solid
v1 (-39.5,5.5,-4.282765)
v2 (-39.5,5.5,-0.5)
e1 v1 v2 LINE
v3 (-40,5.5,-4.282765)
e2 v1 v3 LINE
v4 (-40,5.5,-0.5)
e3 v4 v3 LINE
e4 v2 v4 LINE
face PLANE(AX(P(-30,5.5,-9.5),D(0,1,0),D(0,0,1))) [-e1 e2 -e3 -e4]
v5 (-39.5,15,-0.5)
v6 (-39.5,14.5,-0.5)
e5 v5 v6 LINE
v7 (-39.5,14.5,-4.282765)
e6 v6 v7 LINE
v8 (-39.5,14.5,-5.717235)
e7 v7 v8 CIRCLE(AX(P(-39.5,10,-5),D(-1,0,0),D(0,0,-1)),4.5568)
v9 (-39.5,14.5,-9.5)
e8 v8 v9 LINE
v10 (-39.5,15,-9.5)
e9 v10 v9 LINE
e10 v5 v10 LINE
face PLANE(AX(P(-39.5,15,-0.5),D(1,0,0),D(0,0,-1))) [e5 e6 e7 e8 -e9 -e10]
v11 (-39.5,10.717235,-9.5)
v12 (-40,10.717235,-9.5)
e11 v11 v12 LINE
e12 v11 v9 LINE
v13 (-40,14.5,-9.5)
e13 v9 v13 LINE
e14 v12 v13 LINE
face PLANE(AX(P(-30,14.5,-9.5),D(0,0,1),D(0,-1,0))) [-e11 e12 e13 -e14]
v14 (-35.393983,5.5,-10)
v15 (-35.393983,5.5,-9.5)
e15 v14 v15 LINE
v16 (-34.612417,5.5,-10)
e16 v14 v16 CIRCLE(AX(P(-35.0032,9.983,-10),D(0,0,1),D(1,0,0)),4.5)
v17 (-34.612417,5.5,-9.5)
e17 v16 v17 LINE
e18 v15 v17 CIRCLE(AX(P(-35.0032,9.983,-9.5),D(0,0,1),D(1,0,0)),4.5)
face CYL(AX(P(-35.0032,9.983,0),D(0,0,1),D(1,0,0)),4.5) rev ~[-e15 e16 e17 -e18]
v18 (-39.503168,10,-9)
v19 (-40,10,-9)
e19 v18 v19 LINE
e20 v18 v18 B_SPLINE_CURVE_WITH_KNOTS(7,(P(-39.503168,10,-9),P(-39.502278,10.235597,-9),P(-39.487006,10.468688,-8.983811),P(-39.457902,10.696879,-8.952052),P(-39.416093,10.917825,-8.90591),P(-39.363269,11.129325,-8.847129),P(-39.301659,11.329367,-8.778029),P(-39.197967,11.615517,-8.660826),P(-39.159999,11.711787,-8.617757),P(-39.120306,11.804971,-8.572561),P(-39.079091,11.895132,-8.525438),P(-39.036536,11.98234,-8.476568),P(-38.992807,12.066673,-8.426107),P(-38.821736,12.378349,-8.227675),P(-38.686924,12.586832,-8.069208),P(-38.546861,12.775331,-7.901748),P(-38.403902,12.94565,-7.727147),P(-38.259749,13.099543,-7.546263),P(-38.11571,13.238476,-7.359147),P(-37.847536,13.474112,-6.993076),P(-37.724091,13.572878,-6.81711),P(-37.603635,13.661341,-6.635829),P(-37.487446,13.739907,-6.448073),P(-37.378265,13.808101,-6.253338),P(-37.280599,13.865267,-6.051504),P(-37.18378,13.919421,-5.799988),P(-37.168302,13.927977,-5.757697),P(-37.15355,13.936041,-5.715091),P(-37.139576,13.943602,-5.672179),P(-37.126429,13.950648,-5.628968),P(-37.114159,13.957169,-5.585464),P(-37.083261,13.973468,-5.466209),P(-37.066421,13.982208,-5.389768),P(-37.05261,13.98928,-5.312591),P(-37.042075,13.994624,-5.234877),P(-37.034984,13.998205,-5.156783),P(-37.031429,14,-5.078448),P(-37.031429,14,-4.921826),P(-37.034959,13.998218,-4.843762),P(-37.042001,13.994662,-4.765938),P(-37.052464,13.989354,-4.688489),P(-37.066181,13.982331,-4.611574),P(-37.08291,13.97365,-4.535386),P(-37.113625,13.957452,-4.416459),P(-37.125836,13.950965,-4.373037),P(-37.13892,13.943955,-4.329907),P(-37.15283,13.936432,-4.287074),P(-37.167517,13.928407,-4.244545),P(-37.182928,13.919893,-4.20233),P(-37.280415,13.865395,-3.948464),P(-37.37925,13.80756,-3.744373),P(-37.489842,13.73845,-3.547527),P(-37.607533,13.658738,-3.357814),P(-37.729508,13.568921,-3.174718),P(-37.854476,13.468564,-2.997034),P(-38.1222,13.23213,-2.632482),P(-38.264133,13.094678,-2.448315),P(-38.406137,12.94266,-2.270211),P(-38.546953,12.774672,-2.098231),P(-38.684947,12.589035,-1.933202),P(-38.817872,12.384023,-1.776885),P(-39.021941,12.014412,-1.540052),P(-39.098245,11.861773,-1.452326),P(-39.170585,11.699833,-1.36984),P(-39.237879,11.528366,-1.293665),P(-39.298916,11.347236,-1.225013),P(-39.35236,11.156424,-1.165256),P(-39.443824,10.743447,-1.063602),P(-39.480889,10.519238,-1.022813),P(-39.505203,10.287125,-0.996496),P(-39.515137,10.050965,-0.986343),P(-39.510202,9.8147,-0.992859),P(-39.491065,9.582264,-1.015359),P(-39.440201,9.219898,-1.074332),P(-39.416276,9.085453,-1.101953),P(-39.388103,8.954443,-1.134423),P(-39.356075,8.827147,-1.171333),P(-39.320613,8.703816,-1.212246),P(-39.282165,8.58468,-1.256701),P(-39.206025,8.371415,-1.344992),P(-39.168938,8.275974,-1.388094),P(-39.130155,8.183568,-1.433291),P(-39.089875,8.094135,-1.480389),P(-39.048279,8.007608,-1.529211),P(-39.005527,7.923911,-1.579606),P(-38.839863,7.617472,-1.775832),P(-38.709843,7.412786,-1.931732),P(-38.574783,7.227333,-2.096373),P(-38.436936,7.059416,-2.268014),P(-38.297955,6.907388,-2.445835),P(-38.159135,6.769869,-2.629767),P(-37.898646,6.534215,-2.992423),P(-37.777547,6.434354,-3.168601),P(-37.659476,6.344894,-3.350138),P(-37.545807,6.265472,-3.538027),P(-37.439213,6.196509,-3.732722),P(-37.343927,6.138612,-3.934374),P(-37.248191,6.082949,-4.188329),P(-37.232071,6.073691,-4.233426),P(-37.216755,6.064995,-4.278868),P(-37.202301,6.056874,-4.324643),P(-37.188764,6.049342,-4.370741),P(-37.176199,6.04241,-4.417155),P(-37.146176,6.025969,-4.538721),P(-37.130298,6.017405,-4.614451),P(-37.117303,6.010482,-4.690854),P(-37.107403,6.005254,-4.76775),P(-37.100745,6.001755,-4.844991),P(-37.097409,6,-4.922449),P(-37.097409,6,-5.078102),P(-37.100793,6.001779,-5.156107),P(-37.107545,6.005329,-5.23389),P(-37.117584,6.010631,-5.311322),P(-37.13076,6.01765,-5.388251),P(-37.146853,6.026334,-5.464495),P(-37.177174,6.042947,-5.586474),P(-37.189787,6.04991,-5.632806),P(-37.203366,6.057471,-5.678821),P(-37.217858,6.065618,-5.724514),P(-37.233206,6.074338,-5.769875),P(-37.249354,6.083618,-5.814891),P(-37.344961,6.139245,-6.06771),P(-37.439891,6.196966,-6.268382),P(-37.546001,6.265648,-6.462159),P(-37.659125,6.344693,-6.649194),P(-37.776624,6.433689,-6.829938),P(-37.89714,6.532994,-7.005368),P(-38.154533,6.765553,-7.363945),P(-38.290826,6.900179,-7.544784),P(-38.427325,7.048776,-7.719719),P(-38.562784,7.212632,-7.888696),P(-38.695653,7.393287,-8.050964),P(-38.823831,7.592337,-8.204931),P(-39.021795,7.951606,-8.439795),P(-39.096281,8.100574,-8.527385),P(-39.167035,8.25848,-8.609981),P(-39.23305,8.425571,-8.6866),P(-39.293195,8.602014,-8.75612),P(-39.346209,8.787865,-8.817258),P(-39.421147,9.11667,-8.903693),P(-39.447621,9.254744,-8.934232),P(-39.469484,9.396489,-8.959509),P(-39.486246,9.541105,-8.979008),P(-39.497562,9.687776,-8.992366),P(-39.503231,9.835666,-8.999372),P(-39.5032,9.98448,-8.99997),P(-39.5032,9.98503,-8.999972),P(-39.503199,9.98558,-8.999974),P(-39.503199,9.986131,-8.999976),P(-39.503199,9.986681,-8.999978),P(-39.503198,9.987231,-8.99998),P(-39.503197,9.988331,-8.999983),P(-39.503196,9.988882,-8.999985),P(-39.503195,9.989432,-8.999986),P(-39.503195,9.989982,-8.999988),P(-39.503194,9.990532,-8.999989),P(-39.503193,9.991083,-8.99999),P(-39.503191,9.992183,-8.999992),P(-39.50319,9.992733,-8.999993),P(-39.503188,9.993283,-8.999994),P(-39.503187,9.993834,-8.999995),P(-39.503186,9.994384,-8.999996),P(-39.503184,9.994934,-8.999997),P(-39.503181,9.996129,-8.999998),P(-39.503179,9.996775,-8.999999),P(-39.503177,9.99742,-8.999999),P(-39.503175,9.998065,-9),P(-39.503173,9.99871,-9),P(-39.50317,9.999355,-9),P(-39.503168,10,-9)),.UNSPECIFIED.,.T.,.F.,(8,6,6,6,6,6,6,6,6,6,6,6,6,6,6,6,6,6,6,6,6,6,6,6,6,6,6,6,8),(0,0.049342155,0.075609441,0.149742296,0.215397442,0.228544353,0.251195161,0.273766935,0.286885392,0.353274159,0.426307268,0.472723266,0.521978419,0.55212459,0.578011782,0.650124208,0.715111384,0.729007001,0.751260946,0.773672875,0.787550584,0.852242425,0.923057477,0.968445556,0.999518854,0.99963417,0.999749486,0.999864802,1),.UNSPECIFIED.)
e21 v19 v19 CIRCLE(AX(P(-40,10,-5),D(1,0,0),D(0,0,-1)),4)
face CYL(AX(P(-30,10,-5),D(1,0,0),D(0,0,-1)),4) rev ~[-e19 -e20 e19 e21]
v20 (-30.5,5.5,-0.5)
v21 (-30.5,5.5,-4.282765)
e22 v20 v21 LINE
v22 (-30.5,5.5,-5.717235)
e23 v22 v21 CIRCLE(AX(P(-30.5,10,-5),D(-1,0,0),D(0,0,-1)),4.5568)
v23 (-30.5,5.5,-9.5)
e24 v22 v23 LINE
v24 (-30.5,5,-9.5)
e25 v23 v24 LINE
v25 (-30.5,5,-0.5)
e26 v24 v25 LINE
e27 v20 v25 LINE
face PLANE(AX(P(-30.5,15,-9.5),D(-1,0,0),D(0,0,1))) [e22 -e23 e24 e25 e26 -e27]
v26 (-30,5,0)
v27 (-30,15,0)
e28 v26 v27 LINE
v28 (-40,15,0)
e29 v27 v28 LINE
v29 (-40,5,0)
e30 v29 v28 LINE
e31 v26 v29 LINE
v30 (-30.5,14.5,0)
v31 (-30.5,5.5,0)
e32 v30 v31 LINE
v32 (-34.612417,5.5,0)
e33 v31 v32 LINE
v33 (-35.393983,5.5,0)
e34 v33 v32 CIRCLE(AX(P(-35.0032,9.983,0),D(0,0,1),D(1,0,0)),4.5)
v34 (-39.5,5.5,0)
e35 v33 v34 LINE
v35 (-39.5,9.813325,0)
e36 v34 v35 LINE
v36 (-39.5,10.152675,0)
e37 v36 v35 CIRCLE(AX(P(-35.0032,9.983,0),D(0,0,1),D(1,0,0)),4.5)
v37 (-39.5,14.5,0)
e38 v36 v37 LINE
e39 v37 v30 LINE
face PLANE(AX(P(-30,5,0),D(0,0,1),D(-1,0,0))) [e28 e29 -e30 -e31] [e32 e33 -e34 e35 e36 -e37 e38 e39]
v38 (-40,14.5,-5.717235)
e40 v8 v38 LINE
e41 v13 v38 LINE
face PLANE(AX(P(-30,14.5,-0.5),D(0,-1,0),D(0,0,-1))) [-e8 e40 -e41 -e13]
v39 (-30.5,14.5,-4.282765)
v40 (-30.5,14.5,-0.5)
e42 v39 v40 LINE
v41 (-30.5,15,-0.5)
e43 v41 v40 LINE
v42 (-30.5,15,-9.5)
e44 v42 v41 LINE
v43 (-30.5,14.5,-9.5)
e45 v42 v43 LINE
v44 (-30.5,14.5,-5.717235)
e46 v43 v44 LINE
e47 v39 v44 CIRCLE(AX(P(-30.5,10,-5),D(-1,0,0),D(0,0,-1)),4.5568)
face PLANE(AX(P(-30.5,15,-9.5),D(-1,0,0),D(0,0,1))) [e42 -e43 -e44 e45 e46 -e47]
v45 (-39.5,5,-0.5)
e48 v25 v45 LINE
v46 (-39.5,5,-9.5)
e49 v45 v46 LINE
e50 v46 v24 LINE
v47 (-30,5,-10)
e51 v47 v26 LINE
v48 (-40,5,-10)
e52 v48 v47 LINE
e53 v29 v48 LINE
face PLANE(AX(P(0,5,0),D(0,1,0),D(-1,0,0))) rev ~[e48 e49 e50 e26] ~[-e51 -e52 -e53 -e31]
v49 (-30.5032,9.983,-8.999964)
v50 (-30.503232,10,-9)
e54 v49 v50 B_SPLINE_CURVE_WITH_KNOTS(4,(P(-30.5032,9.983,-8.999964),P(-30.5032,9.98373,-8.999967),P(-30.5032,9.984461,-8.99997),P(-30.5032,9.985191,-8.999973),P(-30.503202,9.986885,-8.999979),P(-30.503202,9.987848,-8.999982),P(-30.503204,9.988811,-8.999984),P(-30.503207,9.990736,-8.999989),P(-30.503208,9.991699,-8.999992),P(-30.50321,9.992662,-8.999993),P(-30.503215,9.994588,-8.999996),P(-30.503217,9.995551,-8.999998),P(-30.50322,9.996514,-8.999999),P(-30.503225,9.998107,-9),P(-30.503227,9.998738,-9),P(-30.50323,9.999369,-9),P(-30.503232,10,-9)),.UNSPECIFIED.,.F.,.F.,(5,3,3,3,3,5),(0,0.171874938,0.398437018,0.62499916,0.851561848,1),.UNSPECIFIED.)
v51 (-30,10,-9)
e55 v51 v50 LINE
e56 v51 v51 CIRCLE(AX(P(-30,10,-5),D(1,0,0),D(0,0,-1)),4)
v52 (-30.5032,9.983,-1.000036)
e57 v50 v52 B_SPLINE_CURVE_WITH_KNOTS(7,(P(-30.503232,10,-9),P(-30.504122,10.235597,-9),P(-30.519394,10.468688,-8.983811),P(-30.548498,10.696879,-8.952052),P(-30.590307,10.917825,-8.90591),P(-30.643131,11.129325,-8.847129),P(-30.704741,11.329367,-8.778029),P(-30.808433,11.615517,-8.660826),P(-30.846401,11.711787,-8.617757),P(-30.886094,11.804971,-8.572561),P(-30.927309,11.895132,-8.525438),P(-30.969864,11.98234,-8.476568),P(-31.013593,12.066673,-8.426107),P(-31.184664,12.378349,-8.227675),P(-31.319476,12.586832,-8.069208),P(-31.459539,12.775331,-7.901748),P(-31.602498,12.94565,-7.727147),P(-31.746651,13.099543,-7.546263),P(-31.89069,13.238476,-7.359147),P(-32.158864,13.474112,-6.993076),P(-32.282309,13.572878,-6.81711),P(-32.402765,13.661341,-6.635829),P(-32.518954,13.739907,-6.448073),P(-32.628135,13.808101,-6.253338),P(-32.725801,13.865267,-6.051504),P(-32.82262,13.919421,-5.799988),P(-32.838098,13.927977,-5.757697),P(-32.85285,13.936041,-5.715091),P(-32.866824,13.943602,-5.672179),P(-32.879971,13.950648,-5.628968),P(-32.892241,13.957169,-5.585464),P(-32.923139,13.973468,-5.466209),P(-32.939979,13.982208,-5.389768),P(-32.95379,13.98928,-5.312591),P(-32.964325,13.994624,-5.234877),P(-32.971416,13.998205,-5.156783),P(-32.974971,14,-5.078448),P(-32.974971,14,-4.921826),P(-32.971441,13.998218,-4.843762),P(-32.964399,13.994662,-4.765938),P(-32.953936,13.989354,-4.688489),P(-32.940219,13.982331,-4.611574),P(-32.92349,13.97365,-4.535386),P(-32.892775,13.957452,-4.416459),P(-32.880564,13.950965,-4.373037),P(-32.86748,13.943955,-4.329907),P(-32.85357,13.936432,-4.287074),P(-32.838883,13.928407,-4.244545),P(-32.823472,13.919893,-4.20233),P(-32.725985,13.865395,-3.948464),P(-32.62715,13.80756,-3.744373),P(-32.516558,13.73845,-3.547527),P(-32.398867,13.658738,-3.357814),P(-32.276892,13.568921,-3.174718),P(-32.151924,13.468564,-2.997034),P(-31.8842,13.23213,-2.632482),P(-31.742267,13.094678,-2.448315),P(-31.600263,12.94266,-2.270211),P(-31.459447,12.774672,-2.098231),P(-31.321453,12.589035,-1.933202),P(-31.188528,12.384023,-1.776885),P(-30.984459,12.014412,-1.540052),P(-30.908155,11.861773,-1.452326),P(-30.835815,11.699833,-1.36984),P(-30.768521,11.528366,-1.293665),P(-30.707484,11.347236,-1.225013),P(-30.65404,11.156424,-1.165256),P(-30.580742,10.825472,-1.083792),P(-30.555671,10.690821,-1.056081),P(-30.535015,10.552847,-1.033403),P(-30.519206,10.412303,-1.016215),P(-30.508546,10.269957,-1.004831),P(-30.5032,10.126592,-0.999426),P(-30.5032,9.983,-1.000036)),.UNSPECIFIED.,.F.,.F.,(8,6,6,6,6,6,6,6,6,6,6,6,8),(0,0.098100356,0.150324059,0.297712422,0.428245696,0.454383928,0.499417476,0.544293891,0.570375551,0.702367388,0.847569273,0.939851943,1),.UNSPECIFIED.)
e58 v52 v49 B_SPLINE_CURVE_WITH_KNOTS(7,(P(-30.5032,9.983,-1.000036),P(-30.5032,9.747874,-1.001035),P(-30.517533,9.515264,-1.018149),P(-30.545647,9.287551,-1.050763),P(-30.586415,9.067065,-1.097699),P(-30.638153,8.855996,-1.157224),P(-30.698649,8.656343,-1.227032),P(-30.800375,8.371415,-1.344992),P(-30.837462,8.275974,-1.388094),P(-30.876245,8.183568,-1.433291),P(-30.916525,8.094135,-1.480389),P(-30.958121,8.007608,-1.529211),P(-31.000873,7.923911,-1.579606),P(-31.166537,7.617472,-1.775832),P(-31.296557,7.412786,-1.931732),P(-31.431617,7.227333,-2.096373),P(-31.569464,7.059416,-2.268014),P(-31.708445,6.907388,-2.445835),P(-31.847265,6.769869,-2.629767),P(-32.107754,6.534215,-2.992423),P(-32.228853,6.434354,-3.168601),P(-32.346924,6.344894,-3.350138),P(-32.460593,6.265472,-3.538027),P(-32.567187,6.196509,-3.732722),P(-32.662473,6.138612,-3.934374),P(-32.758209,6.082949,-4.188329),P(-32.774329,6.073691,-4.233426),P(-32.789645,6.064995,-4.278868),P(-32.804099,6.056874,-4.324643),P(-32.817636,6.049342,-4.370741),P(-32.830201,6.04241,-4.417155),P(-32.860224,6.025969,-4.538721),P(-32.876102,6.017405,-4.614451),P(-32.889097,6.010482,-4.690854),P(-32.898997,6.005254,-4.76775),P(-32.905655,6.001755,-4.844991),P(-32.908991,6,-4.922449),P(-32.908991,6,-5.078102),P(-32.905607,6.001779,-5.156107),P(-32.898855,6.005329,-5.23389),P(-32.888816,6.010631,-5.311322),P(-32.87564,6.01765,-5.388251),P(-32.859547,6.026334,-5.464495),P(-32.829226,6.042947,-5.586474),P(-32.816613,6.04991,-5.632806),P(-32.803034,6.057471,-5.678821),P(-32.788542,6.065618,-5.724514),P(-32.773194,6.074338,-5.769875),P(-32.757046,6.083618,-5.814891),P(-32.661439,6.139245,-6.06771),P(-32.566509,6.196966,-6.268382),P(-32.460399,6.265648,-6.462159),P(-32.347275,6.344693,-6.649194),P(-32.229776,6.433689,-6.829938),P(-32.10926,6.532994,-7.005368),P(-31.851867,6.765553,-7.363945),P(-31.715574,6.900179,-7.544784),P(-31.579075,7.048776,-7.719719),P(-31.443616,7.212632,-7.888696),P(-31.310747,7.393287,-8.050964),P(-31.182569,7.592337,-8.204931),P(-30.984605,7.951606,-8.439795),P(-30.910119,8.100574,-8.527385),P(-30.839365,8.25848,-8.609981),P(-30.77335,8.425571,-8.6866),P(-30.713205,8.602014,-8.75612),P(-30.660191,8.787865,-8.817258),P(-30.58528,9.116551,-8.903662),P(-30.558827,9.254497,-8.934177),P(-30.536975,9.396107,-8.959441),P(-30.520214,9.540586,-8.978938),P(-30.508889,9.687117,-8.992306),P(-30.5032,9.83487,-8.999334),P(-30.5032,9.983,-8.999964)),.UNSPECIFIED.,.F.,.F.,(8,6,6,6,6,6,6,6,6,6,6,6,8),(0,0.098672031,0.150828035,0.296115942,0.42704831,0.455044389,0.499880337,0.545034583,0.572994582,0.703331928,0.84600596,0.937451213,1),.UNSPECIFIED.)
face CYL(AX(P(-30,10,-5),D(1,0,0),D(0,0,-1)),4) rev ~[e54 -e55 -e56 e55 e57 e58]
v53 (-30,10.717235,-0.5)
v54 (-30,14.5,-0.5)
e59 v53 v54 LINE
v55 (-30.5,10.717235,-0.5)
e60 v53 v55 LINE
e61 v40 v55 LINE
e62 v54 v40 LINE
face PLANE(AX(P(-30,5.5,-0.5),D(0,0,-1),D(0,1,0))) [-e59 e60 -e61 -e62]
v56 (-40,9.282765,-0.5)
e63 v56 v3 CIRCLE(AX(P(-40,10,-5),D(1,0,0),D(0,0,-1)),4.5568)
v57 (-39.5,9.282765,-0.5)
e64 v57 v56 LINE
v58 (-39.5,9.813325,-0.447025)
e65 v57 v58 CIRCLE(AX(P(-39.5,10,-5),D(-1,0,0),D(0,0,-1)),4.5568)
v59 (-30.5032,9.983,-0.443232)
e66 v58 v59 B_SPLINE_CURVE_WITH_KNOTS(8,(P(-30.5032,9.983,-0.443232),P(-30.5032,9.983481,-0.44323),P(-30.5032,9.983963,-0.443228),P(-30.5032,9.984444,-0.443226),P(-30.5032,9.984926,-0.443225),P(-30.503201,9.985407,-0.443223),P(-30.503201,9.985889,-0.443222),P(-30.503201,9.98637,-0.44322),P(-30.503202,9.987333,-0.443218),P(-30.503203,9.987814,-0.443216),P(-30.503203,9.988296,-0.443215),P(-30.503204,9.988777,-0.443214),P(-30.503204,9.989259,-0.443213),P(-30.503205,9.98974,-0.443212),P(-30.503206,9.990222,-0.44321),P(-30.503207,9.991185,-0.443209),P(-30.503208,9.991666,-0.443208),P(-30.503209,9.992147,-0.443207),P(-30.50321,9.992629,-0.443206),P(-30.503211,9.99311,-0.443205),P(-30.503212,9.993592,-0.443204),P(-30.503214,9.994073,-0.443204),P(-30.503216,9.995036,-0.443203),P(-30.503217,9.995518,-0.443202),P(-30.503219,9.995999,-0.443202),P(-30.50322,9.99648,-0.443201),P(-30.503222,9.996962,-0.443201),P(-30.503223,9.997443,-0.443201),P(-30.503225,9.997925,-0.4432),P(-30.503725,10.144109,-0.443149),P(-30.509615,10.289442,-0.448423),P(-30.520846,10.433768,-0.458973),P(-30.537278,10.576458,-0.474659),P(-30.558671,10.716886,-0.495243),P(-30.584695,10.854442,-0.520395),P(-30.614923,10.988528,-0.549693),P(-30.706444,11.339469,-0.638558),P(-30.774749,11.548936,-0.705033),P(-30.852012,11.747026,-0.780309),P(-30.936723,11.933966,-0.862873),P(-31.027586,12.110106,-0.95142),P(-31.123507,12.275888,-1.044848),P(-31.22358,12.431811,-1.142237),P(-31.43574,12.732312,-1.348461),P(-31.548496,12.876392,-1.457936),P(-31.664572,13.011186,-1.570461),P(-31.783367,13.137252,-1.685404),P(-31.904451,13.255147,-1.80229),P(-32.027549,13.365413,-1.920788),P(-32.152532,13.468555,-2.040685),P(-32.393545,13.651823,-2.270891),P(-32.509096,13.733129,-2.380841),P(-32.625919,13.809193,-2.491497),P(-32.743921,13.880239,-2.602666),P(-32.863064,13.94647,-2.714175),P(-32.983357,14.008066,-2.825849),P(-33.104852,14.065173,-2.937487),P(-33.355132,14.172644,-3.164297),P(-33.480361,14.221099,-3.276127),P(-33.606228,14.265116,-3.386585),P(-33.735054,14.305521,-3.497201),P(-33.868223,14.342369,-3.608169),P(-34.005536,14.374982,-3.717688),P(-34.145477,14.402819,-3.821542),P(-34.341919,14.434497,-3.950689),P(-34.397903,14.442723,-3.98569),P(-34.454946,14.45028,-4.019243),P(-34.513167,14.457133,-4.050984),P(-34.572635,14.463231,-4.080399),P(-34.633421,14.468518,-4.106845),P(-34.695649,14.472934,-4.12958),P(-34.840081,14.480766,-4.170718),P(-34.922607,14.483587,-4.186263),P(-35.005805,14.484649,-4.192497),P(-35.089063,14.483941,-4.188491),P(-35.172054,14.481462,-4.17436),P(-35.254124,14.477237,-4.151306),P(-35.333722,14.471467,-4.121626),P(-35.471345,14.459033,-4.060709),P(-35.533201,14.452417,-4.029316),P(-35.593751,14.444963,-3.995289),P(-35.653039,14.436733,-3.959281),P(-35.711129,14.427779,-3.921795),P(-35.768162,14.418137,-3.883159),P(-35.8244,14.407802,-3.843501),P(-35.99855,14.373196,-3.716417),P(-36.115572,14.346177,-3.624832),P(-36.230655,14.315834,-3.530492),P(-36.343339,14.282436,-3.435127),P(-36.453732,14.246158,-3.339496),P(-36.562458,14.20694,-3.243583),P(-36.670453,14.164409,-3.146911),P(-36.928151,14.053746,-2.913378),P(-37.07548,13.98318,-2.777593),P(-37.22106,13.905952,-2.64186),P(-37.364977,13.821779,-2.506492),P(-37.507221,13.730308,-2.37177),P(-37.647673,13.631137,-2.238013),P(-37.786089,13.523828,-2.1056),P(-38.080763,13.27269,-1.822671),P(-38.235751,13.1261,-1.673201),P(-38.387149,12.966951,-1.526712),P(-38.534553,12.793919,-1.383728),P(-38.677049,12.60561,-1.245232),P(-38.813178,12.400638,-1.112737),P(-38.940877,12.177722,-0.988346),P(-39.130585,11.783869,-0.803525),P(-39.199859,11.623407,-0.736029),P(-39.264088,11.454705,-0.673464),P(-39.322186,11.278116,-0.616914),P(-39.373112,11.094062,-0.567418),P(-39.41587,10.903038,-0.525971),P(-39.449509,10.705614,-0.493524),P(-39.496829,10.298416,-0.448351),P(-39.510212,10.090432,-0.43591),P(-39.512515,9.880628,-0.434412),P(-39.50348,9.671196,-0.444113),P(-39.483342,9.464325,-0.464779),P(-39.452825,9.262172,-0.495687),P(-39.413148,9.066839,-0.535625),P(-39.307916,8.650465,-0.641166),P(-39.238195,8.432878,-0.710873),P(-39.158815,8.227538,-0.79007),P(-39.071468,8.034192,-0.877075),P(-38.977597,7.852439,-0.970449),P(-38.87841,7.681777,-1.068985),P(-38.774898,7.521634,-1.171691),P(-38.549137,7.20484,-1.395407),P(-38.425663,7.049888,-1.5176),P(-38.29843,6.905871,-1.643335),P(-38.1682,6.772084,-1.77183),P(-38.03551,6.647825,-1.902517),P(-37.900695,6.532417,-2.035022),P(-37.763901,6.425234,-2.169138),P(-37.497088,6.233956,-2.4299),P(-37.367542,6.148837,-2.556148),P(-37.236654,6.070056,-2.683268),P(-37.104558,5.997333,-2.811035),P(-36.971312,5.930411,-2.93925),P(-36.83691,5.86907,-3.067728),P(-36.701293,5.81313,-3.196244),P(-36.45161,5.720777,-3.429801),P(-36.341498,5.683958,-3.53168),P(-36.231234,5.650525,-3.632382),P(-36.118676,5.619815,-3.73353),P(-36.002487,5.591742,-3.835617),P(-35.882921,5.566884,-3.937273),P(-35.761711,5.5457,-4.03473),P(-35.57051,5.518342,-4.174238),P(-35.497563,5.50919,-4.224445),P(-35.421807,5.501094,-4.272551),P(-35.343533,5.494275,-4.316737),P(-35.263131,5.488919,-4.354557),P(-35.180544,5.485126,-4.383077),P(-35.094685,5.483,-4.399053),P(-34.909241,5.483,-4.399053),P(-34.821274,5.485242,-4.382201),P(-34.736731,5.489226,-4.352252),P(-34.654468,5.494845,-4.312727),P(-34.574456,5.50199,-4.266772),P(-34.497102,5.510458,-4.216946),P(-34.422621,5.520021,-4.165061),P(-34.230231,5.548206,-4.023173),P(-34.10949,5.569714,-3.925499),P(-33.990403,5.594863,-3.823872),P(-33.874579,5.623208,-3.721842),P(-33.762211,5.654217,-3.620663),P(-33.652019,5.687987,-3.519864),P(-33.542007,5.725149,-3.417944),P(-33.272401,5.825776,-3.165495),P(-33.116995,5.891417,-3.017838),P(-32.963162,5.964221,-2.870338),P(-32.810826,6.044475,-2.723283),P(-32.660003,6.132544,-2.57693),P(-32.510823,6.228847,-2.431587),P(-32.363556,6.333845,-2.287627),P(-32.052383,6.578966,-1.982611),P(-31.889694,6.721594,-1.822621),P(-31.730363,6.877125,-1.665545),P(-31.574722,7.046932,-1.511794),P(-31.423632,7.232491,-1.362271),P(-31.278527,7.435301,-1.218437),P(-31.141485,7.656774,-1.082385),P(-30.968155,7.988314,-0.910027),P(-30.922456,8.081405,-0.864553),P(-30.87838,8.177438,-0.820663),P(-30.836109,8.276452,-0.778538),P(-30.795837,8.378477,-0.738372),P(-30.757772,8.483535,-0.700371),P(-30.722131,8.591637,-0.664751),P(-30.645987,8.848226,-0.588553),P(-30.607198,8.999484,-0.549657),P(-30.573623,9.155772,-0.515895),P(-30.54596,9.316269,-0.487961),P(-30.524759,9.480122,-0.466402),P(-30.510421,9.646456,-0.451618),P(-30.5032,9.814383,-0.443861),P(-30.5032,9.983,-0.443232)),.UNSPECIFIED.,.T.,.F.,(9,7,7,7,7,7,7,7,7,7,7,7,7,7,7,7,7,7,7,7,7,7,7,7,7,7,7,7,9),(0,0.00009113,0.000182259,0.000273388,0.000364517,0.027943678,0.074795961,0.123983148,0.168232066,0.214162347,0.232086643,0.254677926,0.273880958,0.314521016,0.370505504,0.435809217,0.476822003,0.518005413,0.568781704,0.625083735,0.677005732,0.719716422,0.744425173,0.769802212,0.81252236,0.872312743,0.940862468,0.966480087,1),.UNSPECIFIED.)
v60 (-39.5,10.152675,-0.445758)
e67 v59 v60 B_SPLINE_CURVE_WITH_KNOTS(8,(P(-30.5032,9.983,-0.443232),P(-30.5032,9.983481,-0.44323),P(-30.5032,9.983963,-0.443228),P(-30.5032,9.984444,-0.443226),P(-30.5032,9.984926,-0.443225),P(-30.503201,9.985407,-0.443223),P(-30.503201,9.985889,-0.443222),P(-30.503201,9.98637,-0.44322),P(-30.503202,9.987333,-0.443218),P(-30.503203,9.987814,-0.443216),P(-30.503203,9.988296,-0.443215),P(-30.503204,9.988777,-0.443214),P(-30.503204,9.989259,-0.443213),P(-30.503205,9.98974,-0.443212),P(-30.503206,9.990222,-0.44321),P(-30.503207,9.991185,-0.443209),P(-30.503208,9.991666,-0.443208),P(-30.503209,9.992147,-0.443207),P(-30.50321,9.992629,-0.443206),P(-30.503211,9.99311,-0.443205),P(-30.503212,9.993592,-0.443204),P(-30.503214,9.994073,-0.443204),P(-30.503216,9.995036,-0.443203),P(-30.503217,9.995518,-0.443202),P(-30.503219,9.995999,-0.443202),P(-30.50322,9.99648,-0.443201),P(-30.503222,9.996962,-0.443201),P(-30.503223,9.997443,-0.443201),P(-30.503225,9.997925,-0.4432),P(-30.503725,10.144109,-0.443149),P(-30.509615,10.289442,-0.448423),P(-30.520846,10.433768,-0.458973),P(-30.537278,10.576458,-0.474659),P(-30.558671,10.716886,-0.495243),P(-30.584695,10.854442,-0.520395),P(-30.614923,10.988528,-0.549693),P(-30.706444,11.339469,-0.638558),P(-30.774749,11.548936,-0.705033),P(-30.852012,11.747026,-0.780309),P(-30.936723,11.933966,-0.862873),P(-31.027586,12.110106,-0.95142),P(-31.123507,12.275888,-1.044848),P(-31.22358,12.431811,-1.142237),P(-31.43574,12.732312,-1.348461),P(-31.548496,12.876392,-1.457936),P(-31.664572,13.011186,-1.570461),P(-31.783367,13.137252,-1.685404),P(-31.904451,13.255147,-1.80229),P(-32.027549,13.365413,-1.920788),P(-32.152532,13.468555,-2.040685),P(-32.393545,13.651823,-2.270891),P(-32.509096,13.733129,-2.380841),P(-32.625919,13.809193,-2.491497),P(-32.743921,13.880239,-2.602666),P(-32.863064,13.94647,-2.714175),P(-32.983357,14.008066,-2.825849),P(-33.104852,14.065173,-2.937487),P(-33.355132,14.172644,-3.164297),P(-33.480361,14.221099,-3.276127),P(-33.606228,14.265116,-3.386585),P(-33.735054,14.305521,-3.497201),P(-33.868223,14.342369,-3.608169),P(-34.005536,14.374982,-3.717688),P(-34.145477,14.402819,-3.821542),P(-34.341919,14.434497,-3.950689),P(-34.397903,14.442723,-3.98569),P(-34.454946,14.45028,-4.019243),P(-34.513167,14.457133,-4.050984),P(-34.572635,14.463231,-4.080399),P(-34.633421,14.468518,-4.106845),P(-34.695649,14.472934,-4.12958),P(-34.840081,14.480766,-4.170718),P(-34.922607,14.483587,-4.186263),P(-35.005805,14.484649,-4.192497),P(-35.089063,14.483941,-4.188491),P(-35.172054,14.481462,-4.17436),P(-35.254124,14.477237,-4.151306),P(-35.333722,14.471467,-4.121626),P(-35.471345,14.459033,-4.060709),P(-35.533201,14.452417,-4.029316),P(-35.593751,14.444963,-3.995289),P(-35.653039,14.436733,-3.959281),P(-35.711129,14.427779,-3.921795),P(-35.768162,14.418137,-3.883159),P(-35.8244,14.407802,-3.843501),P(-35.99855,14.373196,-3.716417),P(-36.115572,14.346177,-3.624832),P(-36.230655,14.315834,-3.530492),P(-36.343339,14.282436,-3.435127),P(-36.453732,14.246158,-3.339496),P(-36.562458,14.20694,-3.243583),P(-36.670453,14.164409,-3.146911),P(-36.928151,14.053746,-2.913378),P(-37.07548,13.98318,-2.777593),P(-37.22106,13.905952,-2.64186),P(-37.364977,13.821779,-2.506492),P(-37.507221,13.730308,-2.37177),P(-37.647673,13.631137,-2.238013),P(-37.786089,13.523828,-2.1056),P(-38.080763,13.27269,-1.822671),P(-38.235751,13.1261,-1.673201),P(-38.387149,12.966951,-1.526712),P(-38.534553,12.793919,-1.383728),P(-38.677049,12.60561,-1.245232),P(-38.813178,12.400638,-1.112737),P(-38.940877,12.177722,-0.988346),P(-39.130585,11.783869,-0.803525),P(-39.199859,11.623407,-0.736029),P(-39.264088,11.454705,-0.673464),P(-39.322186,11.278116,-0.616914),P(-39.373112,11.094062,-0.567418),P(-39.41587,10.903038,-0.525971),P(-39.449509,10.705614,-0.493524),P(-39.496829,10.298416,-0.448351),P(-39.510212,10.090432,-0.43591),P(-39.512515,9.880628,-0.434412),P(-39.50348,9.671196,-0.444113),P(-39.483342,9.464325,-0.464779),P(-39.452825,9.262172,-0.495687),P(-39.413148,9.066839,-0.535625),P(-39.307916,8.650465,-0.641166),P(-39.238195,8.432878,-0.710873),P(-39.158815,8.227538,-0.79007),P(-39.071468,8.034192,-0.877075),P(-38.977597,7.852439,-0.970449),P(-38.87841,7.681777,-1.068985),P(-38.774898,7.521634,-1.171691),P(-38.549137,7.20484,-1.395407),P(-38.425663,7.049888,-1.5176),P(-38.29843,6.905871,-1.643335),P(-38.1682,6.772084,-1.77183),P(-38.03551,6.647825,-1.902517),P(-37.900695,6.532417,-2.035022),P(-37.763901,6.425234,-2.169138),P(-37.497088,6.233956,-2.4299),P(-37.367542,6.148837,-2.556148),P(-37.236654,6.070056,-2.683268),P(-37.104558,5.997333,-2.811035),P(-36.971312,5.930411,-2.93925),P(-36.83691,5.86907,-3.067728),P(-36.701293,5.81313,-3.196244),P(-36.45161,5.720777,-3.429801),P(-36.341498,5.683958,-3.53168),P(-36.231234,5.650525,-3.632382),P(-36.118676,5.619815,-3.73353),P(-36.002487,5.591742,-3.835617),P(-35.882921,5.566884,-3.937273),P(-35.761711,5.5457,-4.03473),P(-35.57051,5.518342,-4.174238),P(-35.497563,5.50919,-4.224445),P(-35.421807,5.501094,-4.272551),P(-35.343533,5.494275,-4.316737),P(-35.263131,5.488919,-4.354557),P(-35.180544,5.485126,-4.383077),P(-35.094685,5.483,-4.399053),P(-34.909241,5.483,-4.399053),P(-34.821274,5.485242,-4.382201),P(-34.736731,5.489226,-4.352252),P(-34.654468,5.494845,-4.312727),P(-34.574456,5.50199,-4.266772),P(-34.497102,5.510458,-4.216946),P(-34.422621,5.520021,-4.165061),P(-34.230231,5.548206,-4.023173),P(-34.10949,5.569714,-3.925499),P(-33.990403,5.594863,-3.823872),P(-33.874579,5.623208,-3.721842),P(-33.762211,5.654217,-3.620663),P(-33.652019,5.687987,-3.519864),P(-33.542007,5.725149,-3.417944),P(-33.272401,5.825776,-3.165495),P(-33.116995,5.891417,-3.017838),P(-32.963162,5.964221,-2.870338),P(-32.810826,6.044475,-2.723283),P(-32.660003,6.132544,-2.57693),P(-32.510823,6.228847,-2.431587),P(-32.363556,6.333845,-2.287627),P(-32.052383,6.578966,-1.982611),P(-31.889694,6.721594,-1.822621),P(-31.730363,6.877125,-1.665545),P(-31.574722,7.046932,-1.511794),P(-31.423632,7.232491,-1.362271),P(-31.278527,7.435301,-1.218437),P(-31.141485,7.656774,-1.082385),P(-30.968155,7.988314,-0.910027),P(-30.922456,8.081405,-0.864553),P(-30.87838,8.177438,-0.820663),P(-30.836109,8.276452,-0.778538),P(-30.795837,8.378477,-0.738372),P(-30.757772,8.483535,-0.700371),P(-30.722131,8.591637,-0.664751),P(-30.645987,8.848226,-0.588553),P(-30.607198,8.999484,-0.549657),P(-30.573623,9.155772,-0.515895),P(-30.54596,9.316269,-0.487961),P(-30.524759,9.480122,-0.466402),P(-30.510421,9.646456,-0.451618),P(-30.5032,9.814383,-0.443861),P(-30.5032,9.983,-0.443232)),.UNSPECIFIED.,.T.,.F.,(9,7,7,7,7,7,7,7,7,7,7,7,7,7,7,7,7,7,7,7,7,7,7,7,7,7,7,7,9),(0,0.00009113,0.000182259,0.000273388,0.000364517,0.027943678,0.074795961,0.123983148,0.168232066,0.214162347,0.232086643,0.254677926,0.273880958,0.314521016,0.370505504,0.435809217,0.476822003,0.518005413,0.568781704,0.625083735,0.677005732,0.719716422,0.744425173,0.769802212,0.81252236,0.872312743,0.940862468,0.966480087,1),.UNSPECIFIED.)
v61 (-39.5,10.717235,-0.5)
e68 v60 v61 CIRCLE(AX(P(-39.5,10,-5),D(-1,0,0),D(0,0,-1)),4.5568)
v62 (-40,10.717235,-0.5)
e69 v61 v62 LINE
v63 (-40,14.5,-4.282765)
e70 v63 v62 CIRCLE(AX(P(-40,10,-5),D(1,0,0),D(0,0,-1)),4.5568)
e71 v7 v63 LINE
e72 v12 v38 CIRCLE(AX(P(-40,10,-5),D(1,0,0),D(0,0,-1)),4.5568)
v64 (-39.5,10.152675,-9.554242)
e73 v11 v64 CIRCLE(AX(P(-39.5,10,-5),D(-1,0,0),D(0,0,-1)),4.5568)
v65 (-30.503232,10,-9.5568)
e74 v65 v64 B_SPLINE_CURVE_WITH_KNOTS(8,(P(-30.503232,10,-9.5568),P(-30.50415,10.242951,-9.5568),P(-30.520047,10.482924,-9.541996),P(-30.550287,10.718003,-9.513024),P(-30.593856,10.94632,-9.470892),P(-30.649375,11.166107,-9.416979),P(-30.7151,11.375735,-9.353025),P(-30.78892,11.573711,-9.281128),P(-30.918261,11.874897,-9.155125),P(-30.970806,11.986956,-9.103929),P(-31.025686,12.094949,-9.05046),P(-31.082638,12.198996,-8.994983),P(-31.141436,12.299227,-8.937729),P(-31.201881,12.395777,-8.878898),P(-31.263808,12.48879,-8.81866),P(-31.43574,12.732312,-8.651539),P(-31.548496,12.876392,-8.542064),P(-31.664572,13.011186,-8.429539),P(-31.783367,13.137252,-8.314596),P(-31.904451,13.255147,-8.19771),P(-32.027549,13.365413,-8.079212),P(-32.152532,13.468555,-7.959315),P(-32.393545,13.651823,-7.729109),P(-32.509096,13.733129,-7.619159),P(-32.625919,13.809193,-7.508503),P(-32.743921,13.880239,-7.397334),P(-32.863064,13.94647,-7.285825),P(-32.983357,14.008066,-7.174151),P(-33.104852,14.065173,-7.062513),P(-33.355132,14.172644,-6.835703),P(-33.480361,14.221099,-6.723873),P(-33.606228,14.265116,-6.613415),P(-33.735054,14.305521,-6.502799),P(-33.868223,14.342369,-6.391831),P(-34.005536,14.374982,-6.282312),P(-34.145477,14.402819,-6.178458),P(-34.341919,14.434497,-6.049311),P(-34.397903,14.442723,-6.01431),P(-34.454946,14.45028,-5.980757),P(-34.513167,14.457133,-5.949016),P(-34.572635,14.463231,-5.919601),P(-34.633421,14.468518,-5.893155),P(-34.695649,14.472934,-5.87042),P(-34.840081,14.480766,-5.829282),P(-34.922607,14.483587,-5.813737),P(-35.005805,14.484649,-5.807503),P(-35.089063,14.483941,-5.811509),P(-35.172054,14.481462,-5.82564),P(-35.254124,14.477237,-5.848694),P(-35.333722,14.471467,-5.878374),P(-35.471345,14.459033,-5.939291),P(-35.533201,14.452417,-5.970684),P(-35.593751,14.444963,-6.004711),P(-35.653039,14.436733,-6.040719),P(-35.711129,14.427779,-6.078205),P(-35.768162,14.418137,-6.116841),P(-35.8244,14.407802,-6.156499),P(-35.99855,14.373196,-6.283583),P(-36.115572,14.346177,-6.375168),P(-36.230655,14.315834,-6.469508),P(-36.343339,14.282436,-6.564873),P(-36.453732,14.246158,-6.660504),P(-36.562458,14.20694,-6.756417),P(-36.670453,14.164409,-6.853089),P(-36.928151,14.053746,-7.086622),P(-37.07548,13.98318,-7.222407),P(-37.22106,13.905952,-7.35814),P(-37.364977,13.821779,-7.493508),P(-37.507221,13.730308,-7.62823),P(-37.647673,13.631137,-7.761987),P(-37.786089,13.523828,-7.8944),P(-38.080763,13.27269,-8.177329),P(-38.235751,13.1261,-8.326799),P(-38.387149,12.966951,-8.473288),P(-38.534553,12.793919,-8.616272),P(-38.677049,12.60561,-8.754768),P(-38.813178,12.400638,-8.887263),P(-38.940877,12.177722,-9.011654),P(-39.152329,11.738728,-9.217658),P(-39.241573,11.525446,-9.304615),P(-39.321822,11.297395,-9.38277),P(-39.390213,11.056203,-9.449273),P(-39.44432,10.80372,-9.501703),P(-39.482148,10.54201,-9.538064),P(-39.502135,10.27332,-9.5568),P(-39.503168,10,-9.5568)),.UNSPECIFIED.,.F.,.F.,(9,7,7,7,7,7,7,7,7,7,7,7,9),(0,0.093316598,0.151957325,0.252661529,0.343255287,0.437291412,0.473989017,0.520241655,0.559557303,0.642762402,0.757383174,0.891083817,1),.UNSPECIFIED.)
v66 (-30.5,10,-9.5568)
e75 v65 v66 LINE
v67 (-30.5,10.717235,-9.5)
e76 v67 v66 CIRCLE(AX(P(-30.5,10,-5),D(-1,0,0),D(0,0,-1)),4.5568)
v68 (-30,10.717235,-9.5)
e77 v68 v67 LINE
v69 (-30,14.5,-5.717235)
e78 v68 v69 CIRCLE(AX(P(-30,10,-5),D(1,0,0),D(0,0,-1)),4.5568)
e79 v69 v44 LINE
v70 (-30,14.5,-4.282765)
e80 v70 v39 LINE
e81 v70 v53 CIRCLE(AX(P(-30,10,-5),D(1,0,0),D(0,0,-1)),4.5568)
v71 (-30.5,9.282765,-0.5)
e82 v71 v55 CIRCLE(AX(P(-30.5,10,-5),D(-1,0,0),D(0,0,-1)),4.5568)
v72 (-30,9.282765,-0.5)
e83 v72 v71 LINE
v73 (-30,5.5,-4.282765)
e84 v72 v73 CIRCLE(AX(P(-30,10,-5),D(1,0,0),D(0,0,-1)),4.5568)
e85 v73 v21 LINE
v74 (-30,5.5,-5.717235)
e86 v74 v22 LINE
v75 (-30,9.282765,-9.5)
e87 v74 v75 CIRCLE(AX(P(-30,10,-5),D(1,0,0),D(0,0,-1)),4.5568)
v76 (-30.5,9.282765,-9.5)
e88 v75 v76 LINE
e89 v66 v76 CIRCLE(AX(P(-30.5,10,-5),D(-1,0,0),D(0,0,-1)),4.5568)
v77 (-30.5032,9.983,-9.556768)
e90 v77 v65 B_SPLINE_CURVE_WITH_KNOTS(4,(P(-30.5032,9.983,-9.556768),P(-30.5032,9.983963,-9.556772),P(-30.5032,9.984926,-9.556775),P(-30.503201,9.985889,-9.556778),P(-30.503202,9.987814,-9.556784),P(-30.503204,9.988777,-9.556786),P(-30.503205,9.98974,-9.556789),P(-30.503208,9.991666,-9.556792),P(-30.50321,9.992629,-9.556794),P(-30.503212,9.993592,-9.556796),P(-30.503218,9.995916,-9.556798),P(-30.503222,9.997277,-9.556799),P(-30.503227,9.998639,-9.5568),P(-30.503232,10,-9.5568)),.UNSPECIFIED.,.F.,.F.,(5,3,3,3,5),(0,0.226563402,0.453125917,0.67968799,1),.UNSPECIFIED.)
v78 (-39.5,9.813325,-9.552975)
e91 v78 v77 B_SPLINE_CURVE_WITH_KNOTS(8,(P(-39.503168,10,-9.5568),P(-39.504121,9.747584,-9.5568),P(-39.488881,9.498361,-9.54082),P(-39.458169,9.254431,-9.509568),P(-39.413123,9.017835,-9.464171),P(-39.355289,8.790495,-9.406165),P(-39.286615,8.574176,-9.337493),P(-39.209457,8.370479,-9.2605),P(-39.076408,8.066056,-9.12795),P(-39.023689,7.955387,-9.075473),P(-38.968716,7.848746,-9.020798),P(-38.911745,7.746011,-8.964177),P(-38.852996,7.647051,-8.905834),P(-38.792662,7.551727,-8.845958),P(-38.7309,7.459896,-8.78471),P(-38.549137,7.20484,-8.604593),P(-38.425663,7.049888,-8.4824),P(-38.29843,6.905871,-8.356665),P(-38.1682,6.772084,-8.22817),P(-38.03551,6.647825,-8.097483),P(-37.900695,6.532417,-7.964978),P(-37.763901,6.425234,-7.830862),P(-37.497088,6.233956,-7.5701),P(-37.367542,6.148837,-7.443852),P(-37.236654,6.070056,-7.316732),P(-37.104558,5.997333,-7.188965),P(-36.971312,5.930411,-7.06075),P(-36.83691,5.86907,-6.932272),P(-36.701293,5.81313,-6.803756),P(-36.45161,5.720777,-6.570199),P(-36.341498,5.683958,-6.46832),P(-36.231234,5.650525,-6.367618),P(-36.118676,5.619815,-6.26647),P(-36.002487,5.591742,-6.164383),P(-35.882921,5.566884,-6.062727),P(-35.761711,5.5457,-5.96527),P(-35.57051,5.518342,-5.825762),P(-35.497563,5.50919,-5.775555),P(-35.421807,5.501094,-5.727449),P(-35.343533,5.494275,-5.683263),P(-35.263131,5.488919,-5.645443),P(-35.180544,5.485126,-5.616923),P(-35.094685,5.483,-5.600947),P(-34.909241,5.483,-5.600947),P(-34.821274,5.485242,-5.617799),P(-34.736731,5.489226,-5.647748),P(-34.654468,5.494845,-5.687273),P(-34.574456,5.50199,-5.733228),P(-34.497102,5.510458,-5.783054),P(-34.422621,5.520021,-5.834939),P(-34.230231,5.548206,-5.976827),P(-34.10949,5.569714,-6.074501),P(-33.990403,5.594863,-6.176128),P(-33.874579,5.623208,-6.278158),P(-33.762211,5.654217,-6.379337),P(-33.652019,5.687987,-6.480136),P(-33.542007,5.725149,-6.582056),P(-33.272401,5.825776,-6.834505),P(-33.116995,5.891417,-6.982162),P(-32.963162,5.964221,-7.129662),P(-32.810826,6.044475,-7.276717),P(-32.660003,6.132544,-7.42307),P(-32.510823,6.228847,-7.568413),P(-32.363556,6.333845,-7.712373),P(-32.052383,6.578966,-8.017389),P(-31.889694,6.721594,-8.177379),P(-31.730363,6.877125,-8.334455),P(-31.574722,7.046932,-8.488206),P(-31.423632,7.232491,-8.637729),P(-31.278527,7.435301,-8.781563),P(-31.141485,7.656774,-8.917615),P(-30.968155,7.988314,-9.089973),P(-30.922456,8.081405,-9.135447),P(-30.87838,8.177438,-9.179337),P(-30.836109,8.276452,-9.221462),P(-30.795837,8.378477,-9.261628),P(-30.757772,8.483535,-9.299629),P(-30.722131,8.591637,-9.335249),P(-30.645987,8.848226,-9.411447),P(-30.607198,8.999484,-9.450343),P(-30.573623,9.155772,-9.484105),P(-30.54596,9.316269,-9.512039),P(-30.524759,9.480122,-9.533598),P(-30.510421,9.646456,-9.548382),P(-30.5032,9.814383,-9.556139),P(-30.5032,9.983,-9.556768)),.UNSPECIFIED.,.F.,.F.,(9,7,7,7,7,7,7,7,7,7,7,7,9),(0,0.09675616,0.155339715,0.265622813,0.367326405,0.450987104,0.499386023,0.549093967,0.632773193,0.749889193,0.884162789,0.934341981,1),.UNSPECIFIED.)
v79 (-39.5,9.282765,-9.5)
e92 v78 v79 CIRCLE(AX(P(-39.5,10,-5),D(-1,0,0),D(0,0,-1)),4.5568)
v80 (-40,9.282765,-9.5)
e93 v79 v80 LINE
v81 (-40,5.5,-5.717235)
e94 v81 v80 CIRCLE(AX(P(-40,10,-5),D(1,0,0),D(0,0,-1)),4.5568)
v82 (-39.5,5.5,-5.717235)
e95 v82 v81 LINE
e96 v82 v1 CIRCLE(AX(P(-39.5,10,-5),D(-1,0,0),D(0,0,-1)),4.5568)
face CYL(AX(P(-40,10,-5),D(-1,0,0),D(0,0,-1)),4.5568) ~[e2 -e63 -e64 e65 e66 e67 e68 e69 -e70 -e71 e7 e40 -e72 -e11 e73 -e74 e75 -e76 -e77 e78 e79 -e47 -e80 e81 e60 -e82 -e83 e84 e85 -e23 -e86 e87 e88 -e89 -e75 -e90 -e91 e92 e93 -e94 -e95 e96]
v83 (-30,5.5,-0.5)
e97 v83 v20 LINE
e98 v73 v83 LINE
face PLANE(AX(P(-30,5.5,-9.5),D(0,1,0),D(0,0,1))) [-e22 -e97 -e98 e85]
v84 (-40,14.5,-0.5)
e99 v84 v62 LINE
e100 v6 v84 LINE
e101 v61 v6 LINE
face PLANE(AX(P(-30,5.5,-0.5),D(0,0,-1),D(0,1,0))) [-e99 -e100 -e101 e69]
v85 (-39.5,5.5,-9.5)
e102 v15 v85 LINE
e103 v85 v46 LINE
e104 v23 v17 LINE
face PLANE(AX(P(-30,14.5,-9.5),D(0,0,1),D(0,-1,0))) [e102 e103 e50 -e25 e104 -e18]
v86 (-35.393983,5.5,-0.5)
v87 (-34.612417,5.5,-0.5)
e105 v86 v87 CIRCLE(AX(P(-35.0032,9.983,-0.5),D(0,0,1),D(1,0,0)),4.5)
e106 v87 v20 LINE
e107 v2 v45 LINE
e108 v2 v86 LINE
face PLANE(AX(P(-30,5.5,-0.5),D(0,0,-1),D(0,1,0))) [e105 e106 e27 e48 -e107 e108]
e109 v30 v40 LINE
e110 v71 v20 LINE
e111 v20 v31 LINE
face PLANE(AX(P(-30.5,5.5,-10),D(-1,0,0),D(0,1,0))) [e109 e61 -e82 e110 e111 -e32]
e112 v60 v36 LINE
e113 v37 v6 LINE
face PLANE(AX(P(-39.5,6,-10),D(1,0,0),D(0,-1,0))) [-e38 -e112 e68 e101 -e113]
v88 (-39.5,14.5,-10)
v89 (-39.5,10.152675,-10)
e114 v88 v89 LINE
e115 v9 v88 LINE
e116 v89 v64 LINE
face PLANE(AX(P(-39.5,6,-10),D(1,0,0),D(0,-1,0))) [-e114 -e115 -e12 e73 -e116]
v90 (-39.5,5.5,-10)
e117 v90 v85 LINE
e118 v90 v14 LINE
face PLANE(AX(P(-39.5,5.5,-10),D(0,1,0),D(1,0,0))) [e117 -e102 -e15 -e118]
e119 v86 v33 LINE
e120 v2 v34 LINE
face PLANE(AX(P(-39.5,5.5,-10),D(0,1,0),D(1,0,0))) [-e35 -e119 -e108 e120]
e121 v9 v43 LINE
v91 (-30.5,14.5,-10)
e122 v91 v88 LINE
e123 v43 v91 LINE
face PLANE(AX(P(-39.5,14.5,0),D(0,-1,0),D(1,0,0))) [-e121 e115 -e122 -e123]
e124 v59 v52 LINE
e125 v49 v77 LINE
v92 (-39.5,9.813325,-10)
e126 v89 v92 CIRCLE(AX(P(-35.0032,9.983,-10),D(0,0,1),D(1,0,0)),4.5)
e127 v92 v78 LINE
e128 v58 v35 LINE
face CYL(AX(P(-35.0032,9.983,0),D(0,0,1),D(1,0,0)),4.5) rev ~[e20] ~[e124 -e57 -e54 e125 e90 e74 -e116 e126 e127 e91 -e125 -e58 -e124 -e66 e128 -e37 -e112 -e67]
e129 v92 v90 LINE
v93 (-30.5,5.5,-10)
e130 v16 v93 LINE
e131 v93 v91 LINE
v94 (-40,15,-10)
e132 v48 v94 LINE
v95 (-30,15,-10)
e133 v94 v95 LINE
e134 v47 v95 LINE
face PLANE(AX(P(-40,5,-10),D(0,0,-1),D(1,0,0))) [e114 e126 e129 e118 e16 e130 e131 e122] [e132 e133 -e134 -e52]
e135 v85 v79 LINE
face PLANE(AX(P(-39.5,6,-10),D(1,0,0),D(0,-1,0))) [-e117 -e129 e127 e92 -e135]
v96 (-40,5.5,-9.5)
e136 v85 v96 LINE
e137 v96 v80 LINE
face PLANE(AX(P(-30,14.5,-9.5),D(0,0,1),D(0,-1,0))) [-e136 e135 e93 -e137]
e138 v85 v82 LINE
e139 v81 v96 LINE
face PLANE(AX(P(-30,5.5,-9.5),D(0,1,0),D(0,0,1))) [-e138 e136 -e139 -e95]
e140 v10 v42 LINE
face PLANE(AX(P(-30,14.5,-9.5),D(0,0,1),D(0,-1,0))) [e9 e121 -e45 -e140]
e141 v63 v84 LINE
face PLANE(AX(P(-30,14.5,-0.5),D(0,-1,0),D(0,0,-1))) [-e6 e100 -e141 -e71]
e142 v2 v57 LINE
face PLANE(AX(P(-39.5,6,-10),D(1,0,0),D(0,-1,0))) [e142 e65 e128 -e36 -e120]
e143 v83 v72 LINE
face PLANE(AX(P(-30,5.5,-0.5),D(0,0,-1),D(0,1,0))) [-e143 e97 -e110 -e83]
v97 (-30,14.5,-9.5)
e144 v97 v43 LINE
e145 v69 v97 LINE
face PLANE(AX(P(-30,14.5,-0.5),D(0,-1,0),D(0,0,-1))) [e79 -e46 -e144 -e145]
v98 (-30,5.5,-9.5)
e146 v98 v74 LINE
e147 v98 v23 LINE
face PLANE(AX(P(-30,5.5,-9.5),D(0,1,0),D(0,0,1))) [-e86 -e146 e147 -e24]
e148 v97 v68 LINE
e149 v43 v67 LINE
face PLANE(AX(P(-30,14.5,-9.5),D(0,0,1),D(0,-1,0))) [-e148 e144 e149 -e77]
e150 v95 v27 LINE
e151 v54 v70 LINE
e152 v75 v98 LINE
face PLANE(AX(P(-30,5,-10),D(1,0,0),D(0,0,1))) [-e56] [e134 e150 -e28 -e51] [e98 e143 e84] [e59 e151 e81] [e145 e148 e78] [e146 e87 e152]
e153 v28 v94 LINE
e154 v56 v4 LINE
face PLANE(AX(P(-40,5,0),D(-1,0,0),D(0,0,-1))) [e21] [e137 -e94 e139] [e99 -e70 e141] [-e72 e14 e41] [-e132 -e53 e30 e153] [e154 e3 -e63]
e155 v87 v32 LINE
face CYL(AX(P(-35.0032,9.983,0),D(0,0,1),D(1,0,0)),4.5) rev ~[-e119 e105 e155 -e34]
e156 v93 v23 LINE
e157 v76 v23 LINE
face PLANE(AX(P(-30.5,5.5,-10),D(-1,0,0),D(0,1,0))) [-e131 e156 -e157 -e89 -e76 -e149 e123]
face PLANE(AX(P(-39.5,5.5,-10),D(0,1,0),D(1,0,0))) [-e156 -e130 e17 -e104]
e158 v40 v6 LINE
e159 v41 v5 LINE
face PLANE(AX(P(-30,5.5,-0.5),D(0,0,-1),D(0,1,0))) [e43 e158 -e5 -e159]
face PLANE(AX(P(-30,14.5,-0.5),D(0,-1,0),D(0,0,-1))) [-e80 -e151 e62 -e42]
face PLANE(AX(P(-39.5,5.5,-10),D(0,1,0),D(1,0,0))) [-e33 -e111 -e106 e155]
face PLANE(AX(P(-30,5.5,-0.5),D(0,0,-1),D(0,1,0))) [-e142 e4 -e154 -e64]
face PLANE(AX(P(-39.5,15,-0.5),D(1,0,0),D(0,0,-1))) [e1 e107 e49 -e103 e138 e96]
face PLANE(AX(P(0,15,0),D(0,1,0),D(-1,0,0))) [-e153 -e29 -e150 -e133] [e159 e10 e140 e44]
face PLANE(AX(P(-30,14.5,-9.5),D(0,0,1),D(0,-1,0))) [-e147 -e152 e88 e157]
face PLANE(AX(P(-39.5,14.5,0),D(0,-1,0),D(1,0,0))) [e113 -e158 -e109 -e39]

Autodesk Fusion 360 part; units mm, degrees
sketch "Sketch1" plane through (0, 0, 0) normal (0, 1, 0) x (1, 0, 0)
  line L0 (-35, 18) -> (-29, 18)
  line L1 (-29, 18) -> (-29, 12)
  line L2 (-29, 12) -> (-35, 12)
  line L3 (-35, 12) -> (-35, 18)
sketch "Sketch2" plane through (0, 5, 0) normal (0, 1, 0) x (-1, 0, 0)
  line L0 (35, -12) -> (29, -12)
  line L1 (29, -12) -> (29, -18)
  line L2 (29, -18) -> (35, -18)
  line L3 (35, -18) -> (35, -12)
  line L4 (30, 0) -> (40, 0)
  line L5 (40, 0) -> (40, -10)
  line L6 (40, -10) -> (30, -10)
  line L7 (30, -10) -> (30, 0)
extrude "Extrude2" add sketch "Sketch2" along normal blind 10 contours L4 L5 L6 L7 makes body 1
sketch "Sketch3" plane through (0, 15, 0) normal (0, 1, 0) x (-1, 0, 0)
  line L0 (30, -10) -> (40, -10)
  line L1 (40, -10) -> (40, 0)
  line L2 (40, 0) -> (30, 0)
  line L3 (30, 0) -> (30, -10)
  line L4 (39.5, -9.5) -> (30.5, -9.5)
  line L5 (30.5, -9.5) -> (30.5, -0.5)
  line L6 (30.5, -0.5) -> (39.5, -0.5)
  line L7 (39.5, -0.5) -> (39.5, -9.5)
extrude "Extrude3" cut sketch "Sketch3" against normal blind 18 contours L4 L5 L6 L7 bodies 1
sketch "Sketch4" plane through (-30, 0, 0) normal (1, 0, 0) x (0, 0, -1)
  line L0 (0, 5) -> (10, 5)
  line L1 (10, 5) -> (10, 15)
  line L2 (10, 15) -> (0, 15)
  line L3 (0, 15) -> (0, 5)
  line L4 (0.5, 14.5) -> (9.5, 14.5)
  line L5 (9.5, 14.5) -> (9.5, 5.5)
  line L6 (9.5, 5.5) -> (0.5, 5.5)
  line L7 (0.5, 5.5) -> (0.5, 14.5)
  line L8 (0.5, 15) -> (0.5, 5)
  line L9 (9.5, 15) -> (9.5, 5)
extrude "Extrude4" cut sketch "Sketch4" against normal blind 16 contours L4 L5 L6 L7 L8 L9 bodies 1
sketch "Sketch5" plane through (0, 0, 0) normal (0, 0, 1) x (1, 0, 0)
  line L0 (-40, 5) -> (-30, 5)
  line L1 (-30, 5) -> (-30, 15)
  line L2 (-30, 15) -> (-40, 15)
  line L3 (-40, 15) -> (-40, 5)
  line L4 (-39.5, 14.5) -> (-30.5, 14.5)
  line L5 (-30.5, 14.5) -> (-30.5, 6)
  line L6 (-30.5, 6) -> (-39.5, 6)
  line L7 (-39.5, 6) -> (-39.5, 14.5)
  dimension "d9" = 8.5
extrude "Extrude5" cut sketch "Sketch5" against normal blind 23 contours L4 L5 L6 L7 bodies 1
sketch "Sketch6" plane through (0, 0, -10) normal (0, 0, -1) x (-1, 0, 0)
  line L0 (30.5, 6) -> (30.5, 14.5)
  line L1 (30.5, 14.5) -> (39.5, 14.5)
  line L2 (39.5, 14.5) -> (39.5, 6)
  line L3 (39.5, 6) -> (30.5, 6)
  line L4 (30, 5) -> (40, 5)
  line L5 (40, 5) -> (40, 15)
  line L6 (40, 15) -> (30, 15)
  line L7 (30, 15) -> (30, 5)
  line L8 (30.5, 6) -> (39.5, 6)
  line L9 (39.5, 6) -> (39.5, 5.5)
  line L10 (39.5, 5.5) -> (30.5, 5.5)
  line L11 (30.5, 5.5) -> (30.5, 6)
  point P0 (39.5, 5.5)
extrude "Extrude6" cut sketch "Sketch6" against normal blind 26.5 contours L3 L8 L9 L10 L11 bodies 1
sketch "Sketch7" plane through (0, 0, 0) normal (1, 0, 0) x (0, 0, -1)
sketch "Sketch8" plane through (0, 0, 0) normal (1, 0, 0) x (0, 0, -1)
  circle A0 centre (5, 10) radius 4.5568
  dimension "d15" = 9.1136
extrude "Extrude7" add sketch "Sketch8" along normal blind 10 separate body makes body 2
move_body "Move1" bodies 2 to x (1, 0, 0) y (0, 1, 0) z (0, 0, 1) at (-40, 0, 2)
move_body "Move2" bodies 2 to x (1, 0, 0) y (0, 1, 0) z (0, 0, 1) at (0, 0, -2)
sketch "Sketch9" plane through (-30, 0, 0) normal (1, 0, 0) x (0, 0, -1)
  circle A0 centre (5, 10) radius 4.5568
  circle A1 centre (5, 10) radius 4
  dimension "d24" = 8
extrude "Extrude8" cut sketch "Sketch9" against normal blind 18 contours A1 bodies 2
sketch "Sketch10" plane through (0, 0, 0) normal (0, 0, 1) x (1, 0, 0)
  circle A0 centre (-35.0032, 9.983) radius 4.5
  dimension "d27" = 9
extrude "Extrude9" cut sketch "Sketch10" against normal blind 22 bodies 1 2
combine "Combine1" operation add target body 1 tool bodies 2
